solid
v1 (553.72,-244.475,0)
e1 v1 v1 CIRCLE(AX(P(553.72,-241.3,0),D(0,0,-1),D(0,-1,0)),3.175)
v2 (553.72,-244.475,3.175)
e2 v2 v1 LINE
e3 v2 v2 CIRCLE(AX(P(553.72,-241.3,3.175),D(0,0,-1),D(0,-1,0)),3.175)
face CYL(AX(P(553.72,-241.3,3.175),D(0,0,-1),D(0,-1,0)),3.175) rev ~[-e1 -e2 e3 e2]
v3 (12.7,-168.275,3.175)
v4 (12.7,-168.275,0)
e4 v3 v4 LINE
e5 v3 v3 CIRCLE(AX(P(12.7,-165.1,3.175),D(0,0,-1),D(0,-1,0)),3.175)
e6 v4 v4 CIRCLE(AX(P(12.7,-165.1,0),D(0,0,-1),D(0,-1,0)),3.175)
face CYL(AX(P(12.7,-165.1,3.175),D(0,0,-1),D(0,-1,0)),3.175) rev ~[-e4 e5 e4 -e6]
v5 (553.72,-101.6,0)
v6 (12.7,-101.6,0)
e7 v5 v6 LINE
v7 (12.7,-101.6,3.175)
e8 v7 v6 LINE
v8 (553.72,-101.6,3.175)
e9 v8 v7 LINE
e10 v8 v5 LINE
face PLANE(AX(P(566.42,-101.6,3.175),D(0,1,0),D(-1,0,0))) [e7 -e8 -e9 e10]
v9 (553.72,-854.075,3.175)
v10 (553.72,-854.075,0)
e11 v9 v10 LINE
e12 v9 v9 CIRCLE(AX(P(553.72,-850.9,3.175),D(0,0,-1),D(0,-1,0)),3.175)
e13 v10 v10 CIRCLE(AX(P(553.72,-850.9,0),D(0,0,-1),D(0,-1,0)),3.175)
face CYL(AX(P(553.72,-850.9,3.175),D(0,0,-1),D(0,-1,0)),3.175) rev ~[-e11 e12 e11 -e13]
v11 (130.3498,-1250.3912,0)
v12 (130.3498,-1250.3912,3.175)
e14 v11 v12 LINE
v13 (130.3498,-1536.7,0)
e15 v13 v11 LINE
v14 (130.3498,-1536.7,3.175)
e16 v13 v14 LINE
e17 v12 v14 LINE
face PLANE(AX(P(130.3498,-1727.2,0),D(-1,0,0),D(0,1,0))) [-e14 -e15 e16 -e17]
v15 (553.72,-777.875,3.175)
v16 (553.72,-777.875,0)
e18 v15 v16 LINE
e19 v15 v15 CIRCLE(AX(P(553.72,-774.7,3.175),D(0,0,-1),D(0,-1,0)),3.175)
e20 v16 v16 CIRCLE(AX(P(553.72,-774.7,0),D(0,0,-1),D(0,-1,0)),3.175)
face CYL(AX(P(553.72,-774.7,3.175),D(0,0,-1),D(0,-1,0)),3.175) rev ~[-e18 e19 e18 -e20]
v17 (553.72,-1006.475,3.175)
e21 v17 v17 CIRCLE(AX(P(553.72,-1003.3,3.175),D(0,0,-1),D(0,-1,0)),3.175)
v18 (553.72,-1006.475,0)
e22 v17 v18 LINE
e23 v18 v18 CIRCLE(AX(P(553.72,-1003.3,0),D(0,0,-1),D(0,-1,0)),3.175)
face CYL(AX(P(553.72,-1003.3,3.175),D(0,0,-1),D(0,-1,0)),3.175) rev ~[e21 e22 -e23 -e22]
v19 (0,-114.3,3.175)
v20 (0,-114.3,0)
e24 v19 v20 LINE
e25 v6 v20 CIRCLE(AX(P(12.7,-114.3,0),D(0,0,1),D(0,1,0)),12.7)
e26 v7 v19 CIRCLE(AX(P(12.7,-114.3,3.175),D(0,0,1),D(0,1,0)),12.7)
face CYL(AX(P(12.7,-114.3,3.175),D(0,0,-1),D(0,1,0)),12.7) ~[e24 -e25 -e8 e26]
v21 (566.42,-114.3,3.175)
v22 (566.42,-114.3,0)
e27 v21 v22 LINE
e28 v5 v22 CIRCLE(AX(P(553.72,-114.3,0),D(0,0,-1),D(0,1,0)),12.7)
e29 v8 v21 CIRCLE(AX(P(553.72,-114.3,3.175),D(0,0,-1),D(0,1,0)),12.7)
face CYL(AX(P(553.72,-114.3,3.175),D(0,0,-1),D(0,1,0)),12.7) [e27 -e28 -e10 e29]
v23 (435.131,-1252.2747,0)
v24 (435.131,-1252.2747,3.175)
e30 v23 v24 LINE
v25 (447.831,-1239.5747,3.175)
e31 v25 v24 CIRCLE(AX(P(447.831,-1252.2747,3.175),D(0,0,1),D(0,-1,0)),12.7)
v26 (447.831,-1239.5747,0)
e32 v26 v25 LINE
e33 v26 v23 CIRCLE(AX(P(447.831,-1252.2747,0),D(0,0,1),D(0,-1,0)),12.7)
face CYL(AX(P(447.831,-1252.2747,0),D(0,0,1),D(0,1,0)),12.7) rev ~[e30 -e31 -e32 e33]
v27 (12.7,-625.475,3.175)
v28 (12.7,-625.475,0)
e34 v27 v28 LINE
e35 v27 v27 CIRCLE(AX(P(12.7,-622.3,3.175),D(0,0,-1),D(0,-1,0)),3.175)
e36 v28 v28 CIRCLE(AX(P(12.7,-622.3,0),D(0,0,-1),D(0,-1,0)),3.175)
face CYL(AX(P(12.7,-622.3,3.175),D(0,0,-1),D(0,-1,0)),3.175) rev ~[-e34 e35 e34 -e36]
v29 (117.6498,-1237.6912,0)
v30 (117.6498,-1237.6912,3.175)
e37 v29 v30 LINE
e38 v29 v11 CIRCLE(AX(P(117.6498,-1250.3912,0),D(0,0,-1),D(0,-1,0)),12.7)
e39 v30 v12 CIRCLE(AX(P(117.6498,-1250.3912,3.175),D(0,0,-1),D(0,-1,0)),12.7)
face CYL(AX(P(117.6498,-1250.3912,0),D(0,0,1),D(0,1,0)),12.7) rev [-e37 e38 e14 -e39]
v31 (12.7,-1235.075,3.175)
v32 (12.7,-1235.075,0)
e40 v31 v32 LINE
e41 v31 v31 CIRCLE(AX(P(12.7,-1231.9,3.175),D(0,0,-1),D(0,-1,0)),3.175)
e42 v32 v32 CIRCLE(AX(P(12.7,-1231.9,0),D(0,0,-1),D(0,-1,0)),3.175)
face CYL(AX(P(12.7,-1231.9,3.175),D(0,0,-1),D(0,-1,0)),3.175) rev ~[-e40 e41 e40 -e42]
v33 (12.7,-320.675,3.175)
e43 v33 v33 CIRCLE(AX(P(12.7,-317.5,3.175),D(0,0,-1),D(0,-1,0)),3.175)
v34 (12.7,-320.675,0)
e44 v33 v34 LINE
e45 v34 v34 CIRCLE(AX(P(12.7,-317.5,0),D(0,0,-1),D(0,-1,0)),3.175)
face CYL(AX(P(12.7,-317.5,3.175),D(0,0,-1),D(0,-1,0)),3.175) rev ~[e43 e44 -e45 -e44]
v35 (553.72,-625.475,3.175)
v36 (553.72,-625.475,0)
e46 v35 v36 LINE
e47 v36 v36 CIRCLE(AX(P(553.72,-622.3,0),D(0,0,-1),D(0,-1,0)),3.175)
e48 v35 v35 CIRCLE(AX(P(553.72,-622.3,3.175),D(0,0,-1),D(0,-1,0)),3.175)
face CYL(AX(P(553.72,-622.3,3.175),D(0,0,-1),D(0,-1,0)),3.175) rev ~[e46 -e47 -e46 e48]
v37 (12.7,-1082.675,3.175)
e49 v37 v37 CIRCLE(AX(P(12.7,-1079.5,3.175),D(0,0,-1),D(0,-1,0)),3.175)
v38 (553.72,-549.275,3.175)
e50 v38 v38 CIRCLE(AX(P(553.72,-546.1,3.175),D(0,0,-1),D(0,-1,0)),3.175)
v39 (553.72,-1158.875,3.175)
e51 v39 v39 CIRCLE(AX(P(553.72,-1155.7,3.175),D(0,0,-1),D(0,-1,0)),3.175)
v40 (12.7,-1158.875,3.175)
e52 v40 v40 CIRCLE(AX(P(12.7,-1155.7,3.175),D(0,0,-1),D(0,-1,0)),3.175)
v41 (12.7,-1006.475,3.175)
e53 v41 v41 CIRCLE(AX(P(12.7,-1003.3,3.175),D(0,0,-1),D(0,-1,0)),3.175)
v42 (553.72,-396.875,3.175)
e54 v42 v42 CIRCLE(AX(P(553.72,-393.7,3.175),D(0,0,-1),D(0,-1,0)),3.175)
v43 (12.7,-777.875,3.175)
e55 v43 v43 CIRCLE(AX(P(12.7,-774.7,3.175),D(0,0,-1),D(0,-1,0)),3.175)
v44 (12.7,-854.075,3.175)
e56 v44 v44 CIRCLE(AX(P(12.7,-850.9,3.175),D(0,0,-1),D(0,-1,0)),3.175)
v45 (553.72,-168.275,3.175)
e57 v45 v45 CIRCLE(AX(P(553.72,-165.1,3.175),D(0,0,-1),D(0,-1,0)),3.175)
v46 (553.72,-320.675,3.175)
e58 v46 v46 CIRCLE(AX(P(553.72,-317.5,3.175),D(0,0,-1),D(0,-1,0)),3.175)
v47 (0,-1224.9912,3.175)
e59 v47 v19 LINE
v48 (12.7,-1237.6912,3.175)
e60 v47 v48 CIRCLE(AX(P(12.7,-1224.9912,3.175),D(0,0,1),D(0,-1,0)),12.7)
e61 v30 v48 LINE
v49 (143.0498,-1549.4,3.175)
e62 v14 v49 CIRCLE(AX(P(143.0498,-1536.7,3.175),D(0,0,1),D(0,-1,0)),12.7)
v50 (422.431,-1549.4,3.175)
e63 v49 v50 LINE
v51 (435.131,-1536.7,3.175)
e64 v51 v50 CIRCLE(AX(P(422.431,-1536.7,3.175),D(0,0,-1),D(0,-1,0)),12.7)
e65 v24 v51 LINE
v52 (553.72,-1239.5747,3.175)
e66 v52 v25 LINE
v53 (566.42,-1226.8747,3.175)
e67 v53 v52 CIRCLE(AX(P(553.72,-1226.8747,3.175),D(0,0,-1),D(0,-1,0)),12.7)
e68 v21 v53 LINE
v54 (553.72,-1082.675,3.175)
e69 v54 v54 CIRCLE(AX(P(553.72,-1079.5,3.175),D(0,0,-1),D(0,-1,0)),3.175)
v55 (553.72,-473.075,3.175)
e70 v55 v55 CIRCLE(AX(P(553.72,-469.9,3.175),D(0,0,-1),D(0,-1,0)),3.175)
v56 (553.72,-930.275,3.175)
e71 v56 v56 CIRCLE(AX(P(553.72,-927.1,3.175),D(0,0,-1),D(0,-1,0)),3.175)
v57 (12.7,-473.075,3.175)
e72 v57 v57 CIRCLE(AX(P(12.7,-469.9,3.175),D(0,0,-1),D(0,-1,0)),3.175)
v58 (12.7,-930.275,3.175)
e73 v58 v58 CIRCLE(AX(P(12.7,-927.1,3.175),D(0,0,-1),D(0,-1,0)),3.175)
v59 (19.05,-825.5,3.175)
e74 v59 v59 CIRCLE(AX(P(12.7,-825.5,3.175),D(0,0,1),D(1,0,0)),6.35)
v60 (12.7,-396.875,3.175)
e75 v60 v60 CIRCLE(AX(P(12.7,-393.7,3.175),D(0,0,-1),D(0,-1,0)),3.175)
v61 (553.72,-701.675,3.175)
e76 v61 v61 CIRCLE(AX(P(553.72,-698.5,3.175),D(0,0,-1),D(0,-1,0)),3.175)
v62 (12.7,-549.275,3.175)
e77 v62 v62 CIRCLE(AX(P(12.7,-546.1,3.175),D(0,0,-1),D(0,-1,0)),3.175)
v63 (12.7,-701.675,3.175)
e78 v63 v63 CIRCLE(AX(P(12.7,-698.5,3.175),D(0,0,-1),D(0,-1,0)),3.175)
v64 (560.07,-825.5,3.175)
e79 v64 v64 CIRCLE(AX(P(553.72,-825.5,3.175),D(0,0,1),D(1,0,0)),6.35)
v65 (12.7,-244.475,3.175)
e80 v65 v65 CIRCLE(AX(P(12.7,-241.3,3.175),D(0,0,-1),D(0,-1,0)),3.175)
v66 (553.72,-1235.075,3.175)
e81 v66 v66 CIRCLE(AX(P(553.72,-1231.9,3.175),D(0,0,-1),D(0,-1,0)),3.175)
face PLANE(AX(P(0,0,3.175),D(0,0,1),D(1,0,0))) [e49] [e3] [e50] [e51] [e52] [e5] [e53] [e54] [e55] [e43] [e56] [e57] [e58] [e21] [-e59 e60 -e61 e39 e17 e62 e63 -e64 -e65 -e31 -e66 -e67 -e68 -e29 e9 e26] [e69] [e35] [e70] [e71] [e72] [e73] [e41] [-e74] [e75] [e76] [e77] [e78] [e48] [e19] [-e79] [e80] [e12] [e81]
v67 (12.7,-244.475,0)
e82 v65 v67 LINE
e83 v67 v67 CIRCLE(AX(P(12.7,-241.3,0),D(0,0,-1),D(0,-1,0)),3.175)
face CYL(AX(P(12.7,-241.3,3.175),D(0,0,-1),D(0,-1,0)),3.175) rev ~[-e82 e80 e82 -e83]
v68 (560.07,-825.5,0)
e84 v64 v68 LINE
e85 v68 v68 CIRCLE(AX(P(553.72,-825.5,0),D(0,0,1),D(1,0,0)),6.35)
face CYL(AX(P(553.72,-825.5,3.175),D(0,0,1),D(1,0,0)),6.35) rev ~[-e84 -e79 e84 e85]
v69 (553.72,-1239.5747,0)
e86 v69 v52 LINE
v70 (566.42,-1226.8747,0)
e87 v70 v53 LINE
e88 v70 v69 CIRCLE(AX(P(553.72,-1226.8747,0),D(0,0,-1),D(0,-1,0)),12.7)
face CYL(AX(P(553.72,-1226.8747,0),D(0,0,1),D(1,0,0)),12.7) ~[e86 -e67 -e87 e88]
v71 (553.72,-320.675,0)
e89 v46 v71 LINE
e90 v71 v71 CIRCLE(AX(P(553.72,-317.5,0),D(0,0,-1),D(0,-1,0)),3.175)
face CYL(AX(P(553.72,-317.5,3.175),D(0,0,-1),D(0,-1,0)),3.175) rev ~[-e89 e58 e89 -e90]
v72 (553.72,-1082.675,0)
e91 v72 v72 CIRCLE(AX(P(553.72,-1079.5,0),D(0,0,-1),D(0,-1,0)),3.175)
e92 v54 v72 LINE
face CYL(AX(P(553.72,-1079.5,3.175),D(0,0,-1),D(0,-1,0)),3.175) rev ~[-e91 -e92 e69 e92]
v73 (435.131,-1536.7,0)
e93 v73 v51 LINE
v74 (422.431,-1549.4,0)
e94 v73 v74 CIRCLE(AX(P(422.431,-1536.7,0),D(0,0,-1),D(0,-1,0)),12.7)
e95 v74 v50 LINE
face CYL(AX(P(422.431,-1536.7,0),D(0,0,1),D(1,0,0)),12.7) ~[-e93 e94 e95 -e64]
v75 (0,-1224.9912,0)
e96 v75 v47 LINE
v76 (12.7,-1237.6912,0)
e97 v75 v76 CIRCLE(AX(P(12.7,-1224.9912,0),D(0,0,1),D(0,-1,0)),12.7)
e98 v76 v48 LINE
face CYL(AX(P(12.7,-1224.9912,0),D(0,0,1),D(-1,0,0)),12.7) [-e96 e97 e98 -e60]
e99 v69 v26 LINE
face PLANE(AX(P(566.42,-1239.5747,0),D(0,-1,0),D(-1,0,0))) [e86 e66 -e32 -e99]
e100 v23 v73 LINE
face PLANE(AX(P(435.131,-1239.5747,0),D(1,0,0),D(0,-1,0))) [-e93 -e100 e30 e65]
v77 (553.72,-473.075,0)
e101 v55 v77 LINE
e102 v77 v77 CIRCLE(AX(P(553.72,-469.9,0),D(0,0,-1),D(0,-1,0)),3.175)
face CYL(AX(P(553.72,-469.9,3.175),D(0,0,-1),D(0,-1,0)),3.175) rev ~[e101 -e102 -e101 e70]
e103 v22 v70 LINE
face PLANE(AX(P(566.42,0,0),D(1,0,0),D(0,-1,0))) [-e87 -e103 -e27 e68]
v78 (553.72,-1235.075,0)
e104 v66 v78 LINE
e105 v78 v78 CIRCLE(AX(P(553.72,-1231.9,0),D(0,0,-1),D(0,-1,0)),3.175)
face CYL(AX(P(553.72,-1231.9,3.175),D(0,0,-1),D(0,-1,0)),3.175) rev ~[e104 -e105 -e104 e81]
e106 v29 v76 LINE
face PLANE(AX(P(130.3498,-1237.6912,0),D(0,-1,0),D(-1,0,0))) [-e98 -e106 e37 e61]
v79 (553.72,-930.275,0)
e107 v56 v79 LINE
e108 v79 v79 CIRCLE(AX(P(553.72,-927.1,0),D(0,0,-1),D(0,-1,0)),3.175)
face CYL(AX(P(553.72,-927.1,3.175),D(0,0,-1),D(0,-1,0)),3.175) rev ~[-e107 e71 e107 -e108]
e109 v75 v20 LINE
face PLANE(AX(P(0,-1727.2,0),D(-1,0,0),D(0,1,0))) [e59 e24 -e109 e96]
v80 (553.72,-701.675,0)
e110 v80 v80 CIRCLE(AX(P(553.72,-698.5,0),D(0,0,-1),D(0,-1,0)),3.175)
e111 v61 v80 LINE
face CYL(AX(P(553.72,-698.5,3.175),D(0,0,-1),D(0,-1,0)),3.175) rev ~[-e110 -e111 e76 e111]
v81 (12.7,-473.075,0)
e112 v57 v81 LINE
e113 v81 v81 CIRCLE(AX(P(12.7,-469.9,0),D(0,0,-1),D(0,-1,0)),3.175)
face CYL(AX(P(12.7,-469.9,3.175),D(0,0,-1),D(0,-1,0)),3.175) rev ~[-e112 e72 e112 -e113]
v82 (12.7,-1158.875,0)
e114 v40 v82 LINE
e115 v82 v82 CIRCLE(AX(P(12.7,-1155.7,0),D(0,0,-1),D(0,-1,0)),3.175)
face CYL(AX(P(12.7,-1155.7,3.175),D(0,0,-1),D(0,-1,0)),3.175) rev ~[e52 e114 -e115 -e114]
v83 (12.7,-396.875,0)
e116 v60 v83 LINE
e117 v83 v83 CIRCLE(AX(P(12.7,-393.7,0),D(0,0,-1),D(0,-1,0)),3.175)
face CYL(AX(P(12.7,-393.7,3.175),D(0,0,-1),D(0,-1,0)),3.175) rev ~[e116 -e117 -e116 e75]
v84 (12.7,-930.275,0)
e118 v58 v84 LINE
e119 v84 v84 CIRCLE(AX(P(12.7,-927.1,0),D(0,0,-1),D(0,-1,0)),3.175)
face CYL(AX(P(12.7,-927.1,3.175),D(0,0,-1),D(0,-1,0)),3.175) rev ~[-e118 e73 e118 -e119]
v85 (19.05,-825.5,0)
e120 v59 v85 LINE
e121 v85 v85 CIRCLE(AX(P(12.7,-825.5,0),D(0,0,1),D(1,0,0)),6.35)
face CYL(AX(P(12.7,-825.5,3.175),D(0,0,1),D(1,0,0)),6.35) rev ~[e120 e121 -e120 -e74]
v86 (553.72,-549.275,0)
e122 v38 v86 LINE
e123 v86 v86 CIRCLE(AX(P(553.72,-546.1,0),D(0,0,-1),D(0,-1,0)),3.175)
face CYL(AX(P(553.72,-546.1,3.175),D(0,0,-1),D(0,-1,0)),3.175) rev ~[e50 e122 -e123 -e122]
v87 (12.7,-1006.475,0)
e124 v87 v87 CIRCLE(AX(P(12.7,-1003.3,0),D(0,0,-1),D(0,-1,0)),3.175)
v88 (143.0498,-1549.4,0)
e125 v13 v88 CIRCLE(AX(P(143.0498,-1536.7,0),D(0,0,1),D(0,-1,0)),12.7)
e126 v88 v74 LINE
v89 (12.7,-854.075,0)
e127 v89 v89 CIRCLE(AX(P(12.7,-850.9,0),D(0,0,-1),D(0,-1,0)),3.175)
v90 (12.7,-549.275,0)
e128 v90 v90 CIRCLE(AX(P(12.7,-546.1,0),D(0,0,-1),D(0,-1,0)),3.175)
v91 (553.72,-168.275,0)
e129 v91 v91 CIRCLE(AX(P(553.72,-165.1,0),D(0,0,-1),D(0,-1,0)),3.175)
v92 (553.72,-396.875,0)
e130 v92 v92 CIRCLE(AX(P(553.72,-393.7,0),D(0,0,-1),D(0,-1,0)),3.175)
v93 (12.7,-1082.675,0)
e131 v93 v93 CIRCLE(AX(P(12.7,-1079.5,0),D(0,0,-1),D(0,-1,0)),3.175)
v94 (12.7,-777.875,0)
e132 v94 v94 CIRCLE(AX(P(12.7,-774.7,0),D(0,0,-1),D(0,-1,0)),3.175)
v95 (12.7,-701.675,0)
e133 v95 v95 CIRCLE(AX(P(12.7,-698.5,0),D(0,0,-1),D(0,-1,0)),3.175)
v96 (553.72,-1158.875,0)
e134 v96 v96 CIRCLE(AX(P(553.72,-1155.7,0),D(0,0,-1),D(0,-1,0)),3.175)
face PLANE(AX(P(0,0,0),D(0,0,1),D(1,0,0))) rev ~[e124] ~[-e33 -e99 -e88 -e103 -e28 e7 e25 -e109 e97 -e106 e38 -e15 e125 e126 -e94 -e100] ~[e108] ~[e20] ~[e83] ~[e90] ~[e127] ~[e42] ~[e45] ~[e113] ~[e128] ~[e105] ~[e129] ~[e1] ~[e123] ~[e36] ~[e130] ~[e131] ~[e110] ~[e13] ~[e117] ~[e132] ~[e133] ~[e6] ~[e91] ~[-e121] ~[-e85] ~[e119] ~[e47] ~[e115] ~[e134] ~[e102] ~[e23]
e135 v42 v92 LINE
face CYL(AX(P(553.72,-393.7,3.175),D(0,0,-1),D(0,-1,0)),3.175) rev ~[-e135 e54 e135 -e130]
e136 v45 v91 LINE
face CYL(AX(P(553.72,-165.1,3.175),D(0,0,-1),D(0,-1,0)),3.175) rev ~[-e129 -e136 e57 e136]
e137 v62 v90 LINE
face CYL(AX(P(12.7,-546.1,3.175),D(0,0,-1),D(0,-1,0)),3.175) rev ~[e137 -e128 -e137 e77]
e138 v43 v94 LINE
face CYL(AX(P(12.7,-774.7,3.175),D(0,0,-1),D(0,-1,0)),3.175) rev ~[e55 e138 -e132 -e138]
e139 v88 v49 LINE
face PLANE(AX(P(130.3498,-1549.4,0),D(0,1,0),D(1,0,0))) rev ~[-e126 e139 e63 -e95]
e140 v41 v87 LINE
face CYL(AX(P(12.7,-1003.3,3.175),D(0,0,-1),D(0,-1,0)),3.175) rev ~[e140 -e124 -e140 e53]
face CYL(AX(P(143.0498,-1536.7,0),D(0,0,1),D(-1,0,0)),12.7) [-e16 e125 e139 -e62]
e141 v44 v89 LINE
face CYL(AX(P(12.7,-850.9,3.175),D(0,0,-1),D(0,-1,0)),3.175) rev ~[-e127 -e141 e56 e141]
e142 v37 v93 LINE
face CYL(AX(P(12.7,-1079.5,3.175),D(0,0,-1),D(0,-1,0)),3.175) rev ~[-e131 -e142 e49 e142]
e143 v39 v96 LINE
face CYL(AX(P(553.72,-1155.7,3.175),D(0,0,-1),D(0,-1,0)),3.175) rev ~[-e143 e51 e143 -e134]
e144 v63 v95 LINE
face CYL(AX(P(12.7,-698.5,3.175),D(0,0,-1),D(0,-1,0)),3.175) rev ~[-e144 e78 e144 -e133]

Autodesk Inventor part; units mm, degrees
ref_plane "YZ Plane" through (0, 0, 0) normal (1, 0, 0) x (0, 1, 0)
ref_plane "XZ Plane" through (0, 0, 0) normal (0, 1, 0) x (-1, 0, 0)
ref_plane "XY Plane" through (0, 0, 0) normal (0, 0, 1) x (1, 0, 0)
sketch "Sketch2" plane through (0, 0, 0) normal (0, 0, 1) x (1, 0, 0)
  line L0 (0, 0) -> (566.42, 0)
  line L1 (566.42, 0) -> (566.42, -1727.2)
  line L2 (566.42, -1727.2) -> (0, -1727.2)
  line L3 (0, -1727.2) -> (0, 0)
  dimension "d0" = 566.42
  dimension "d1" = 1727.2
extrude "Extrusion1" add sketch "Sketch2" along normal blind 3.175
sketch "Sketch4" plane through (0, 0, 3.175) normal (0, 0, 1) x (1, 0, 0)
  line L0 (566.42, 0) -> (0, 0) projected
  line L1 (0, 0) -> (0, -1727.2) projected
  line L2 (0, -1727.2) -> (566.42, -1727.2) projected
  line L3 (566.42, -1727.2) -> (566.42, 0) projected
  line L4 (0, -1727.2) -> (566.42, -1727.2) projected
  line L5 (68.58, -1727.2) -> (500.38, -1727.2)
  circle A0 centre (68.58, -1391.92) radius 12.7
  circle A1 centre (500.38, -1391.92) radius 12.7
  circle A2 centre (68.58, -1727.2) radius 12.7
  circle A3 centre (500.38, -1727.2) radius 12.7
  dimension "d6" = 25.4
  dimension "d7" = 25.4
  dimension "d8" = 25.4
  dimension "d9" = 25.4
extrude "Extrusion2" add sketch "Sketch4" along normal blind 3.175 contours A0 | A1
sketch "Sketch6" plane through (0, 0, 3.175) normal (0, 0, 1) x (1, 0, 0)
  circle A0 centre (12.7, -1460.5) radius 3.175 projected
  circle A1 centre (553.72, -1460.5) radius 3.175 projected
  circle A2 centre (553.72, -1460.5) radius 4.7625
  circle A3 centre (12.7, -1460.5) radius 4.7625
  point P0 (0, 0)
  dimension "d16" = 9.525
  dimension "d17" = 9.525
extrude "Extrusion4" cut sketch "Sketch6" against normal through all contours A0 | A1 | A2 | A3
sketch "Sketch7" plane through (0, 0, 3.175) normal (0, 0, 1) x (1, 0, 0)
  circle A0 centre (12.7, -1460.5) radius 4.7625 projected
  circle A1 centre (12.7, -1460.5) radius 6.35
  circle A2 centre (553.72, -1460.5) radius 4.7625 projected
  circle A3 centre (553.72, -1460.5) radius 6.35
  point P0 (0, 0)
  dimension "d20" = 12.7
  dimension "d21" = 12.7
extrude "Extrusion5" cut sketch "Sketch7" against normal blind 12.7 contours A3
sketch "Sketch9" plane through (0, 0, 3.175) normal (0, 0, 1) x (1, 0, 0)
  circle A0 centre (553.72, -825.5) radius 6.35 projected
  circle A1 centre (12.7, -825.5) radius 6.35 projected
  circle A2 centre (12.7, -825.5) radius 6.35
  circle A3 centre (553.72, -825.5) radius 6.35
  point P0 (0, 0)
extrude "Extrusion7" cut sketch "Sketch9" against normal blind 3.175
sketch "Sketch10" plane through (0, 0, 3.175) normal (0, 0, 1) x (1, 0, 0)
  line L0 (566.42, 0) -> (566.42, -1727.2) projected
  line L1 (0, -1732.8892) -> (566.42, -1732.8892)
  line L2 (566.42, -1732.8892) -> (566.42, -1054.0894)
  line L3 (566.42, -1054.0894) -> (0, -1054.0894)
  line L4 (0, -1054.0894) -> (0, -1732.8892)
  point P0 (0, 0)
extrude "Extrusion8" cut sketch "Sketch10" along normal blind 25.4
sketch "Sketch12" plane through (0, 0, 0) normal (0, 0, -1) x (-1, 0, 0)
  line L0 (-133.5248, -1752.8599) -> (-130.3498, -1752.8599) projected
  line L1 (-130.3498, -1752.8599) -> (-130.3498, -1726.7719) projected
  line L2 (-130.3498, -1726.7719) -> (-133.5248, -1726.7719) projected
  line L3 (-133.5248, -1726.7719) -> (-133.5248, -1752.8599) projected
  line L4 (-133.5248, -1752.8599) -> (-130.3498, -1752.8599) projected
  line L5 (-133.5248, -1777.5719) -> (-133.5248, -1752.8599) projected
  line L6 (-82.7248, -1777.5719) -> (-133.5248, -1777.5719) projected
  line L7 (-82.7248, -1774.3969) -> (-82.7248, -1777.5719) projected
  line L8 (-130.3498, -1774.3969) -> (-82.7248, -1774.3969) projected
  line L9 (-130.3498, -1752.8599) -> (-130.3498, -1774.3969) projected
  line L10 (-130.3498, -1237.6912) -> (0, -1237.6912)
  line L11 (0, -1237.6912) -> (0, -1727.2)
  line L12 (0, -1727.2) -> (-130.3498, -1727.2)
  line L13 (-130.3498, -1727.2) -> (-130.3498, -1237.6912)
  line L14 (0, -1727.2) -> (-566.42, -1727.2) projected
  line L15 (-566.8989, -1237.6912) -> (-436.5461, -1237.6912)
  line L16 (-436.5461, -1237.6912) -> (-436.5461, -1727.2)
  line L17 (-436.5461, -1727.2) -> (-566.8989, -1727.2)
  line L18 (-566.8989, -1727.2) -> (-566.8989, -1237.6912)
  point P0 (0, 0)
  point P1 (-108.1248, -1263.0912)
  dimension "d32" = 130.3528
extrude "Extrusion9" cut sketch "Sketch12" against normal blind 3.175 contours L1 L13 L10 L11 L12
sketch "Sketch13" plane through (0, 0, 0) normal (0, 0, -1) x (-1, 0, 0)
  line L0 (-566.42, -1727.2) -> (-566.42, 0) projected
  line L1 (-130.3498, -1727.2) -> (-566.42, -1727.2) projected
  line L2 (-566.42, -1239.5747) -> (-435.131, -1239.5747)
  line L3 (-435.131, -1239.5747) -> (-435.131, -1727.2)
  line L4 (-435.131, -1727.2) -> (-566.42, -1727.2)
  line L5 (-566.42, -1727.2) -> (-566.42, -1239.5747)
  point P0 (0, 0)
extrude "Extrusion10" cut sketch "Sketch13" against normal blind 3.175
sketch "Sketch14" plane through (0, 0, 0) normal (0, 0, -1) x (-1, 0, 0)
  line L0 (-130.3498, -1727.2) -> (-130.3498, -1237.6912) projected
  line L1 (-435.131, -1727.2) -> (-130.3498, -1727.2)
  line L2 (-130.3498, -1727.2) -> (-130.3498, -1549.4)
  line L3 (-130.3498, -1549.4) -> (-435.131, -1549.4)
  line L4 (-435.131, -1549.4) -> (-435.131, -1727.2)
  point P0 (0, 0)
  dimension "d35" = 177.8
extrude "Extrusion11" cut sketch "Sketch14" against normal blind 3.175
hole "Hole1" at (12.7, -12.7, 3.175) direction (0, 0, -1) diameter 6.35 depth 12.7 tip angle 118
pattern_linear "Rectangular Pattern1" count 17 spacing 76.2 along (0, -1, 0) of "Hole1"
hole "Hole2" at (553.72, -12.7, 3.175) direction (0, 0, -1) diameter 6.35 depth 12.7 tip angle 118
pattern_linear "Rectangular Pattern2" count 17 spacing 76.2 along (0, -1, 0) of "Hole2"
fillet "Fillet1" radius 12.7 8 edges at (566.42, 0, 1.5875) (0, 0, 1.5875) (566.42, -1239.5747, 1.5875) (435.131, -1239.5747, 1.5875) (435.131, -1549.4, 1.5875) (0, -1237.6912, 1.5875) (130.3498, -1237.6912, 1.5875) (130.3498, -1549.4, 1.5875)
sketch "Sketch15" plane through (0, 0, 3.175) normal (0, 0, 1) x (1, 0, 0)
  arc A0 (130.3498, -1536.7) -> (143.0498, -1549.4) centre (143.0498, -1536.7) ccw projected
  line L0 (143.0498, -1549.4) -> (422.431, -1549.4) projected
  arc A1 (422.431, -1549.4) -> (435.131, -1536.7) centre (422.431, -1536.7) ccw projected
  line L1 (435.131, -1536.7) -> (435.131, -1252.2747) projected
  arc A2 (447.831, -1239.5747) -> (435.131, -1252.2747) centre (447.831, -1252.2747) ccw projected
  line L2 (447.831, -1239.5747) -> (553.72, -1239.5747) projected
  arc A3 (553.72, -1239.5747) -> (566.42, -1226.8747) centre (553.72, -1226.8747) ccw projected
  line L3 (566.42, -1226.8747) -> (566.42, -12.7) projected
  arc A4 (566.42, -12.7) -> (553.72, 0) centre (553.72, -12.7) ccw projected
  line L4 (553.72, 0) -> (12.7, 0) projected
  arc A5 (12.7, 0) -> (0, -12.7) centre (12.7, -12.7) ccw projected
  line L5 (0, -12.7) -> (0, -1224.9912) projected
  arc A6 (0, -1224.9912) -> (12.7, -1237.6912) centre (12.7, -1224.9912) ccw projected
  line L6 (12.7, -1237.6912) -> (117.6498, -1237.6912) projected
  arc A7 (130.3498, -1250.3912) -> (117.6498, -1237.6912) centre (117.6498, -1250.3912) ccw projected
  line L7 (130.3498, -1250.3912) -> (130.3498, -1536.7) projected
  circle A8 centre (12.7, -825.5) radius 6.35 projected
  circle A9 centre (553.72, -825.5) radius 6.35 projected
  circle A10 centre (12.7, -12.7) radius 3.175 projected
  circle A11 centre (12.7, -88.9) radius 3.175 projected
  circle A12 centre (12.7, -165.1) radius 3.175 projected
  circle A13 centre (12.7, -241.3) radius 3.175 projected
  circle A14 centre (12.7, -317.5) radius 3.175 projected
  circle A15 centre (12.7, -393.7) radius 3.175 projected
  circle A16 centre (12.7, -469.9) radius 3.175 projected
  circle A17 centre (12.7, -546.1) radius 3.175 projected
  circle A18 centre (12.7, -622.3) radius 3.175 projected
  circle A19 centre (12.7, -698.5) radius 3.175 projected
  circle A20 centre (12.7, -774.7) radius 3.175 projected
  circle A21 centre (12.7, -850.9) radius 3.175 projected
  circle A22 centre (12.7, -927.1) radius 3.175 projected
  circle A23 centre (12.7, -1003.3) radius 3.175 projected
  circle A24 centre (12.7, -1079.5) radius 3.175 projected
  circle A25 centre (12.7, -1155.7) radius 3.175 projected
  circle A26 centre (12.7, -1231.9) radius 3.175 projected
  circle A27 centre (553.72, -12.7) radius 3.175 projected
  circle A28 centre (553.72, -88.9) radius 3.175 projected
  circle A29 centre (553.72, -165.1) radius 3.175 projected
  circle A30 centre (553.72, -241.3) radius 3.175 projected
  circle A31 centre (553.72, -317.5) radius 3.175 projected
  circle A32 centre (553.72, -393.7) radius 3.175 projected
  circle A33 centre (553.72, -469.9) radius 3.175 projected
  circle A34 centre (553.72, -546.1) radius 3.175 projected
  circle A35 centre (553.72, -622.3) radius 3.175 projected
  circle A36 centre (553.72, -698.5) radius 3.175 projected
  circle A37 centre (553.72, -774.7) radius 3.175 projected
  circle A38 centre (553.72, -850.9) radius 3.175 projected
  circle A39 centre (553.72, -927.1) radius 3.175 projected
  circle A40 centre (553.72, -1003.3) radius 3.175 projected
  circle A41 centre (553.72, -1079.5) radius 3.175 projected
  circle A42 centre (553.72, -1155.7) radius 3.175 projected
  circle A43 centre (553.72, -1231.9) radius 3.175 projected
  line L8 (0, 0) -> (566.42, 0)
  line L9 (566.42, 0) -> (566.42, -101.6)
  line L10 (566.42, -101.6) -> (0, -101.6)
  line L11 (0, -101.6) -> (0, 0)
  dimension "d63" = 101.6
extrude "Extrusion12" cut sketch "Sketch15" against normal blind 25.4 contours L5 A5 L4 A4 L3 L10 | L11 L8 A5 | A4 L8 L9
fillet "Fillet2" radius 12.7 1 edges at (566.42, -101.6, 1.5875)
fillet "Fillet3" radius 12.7 1 edges at (0, -101.6, 1.5875)
equation "\"d22\" = d20"
properties part number "Back plate"
